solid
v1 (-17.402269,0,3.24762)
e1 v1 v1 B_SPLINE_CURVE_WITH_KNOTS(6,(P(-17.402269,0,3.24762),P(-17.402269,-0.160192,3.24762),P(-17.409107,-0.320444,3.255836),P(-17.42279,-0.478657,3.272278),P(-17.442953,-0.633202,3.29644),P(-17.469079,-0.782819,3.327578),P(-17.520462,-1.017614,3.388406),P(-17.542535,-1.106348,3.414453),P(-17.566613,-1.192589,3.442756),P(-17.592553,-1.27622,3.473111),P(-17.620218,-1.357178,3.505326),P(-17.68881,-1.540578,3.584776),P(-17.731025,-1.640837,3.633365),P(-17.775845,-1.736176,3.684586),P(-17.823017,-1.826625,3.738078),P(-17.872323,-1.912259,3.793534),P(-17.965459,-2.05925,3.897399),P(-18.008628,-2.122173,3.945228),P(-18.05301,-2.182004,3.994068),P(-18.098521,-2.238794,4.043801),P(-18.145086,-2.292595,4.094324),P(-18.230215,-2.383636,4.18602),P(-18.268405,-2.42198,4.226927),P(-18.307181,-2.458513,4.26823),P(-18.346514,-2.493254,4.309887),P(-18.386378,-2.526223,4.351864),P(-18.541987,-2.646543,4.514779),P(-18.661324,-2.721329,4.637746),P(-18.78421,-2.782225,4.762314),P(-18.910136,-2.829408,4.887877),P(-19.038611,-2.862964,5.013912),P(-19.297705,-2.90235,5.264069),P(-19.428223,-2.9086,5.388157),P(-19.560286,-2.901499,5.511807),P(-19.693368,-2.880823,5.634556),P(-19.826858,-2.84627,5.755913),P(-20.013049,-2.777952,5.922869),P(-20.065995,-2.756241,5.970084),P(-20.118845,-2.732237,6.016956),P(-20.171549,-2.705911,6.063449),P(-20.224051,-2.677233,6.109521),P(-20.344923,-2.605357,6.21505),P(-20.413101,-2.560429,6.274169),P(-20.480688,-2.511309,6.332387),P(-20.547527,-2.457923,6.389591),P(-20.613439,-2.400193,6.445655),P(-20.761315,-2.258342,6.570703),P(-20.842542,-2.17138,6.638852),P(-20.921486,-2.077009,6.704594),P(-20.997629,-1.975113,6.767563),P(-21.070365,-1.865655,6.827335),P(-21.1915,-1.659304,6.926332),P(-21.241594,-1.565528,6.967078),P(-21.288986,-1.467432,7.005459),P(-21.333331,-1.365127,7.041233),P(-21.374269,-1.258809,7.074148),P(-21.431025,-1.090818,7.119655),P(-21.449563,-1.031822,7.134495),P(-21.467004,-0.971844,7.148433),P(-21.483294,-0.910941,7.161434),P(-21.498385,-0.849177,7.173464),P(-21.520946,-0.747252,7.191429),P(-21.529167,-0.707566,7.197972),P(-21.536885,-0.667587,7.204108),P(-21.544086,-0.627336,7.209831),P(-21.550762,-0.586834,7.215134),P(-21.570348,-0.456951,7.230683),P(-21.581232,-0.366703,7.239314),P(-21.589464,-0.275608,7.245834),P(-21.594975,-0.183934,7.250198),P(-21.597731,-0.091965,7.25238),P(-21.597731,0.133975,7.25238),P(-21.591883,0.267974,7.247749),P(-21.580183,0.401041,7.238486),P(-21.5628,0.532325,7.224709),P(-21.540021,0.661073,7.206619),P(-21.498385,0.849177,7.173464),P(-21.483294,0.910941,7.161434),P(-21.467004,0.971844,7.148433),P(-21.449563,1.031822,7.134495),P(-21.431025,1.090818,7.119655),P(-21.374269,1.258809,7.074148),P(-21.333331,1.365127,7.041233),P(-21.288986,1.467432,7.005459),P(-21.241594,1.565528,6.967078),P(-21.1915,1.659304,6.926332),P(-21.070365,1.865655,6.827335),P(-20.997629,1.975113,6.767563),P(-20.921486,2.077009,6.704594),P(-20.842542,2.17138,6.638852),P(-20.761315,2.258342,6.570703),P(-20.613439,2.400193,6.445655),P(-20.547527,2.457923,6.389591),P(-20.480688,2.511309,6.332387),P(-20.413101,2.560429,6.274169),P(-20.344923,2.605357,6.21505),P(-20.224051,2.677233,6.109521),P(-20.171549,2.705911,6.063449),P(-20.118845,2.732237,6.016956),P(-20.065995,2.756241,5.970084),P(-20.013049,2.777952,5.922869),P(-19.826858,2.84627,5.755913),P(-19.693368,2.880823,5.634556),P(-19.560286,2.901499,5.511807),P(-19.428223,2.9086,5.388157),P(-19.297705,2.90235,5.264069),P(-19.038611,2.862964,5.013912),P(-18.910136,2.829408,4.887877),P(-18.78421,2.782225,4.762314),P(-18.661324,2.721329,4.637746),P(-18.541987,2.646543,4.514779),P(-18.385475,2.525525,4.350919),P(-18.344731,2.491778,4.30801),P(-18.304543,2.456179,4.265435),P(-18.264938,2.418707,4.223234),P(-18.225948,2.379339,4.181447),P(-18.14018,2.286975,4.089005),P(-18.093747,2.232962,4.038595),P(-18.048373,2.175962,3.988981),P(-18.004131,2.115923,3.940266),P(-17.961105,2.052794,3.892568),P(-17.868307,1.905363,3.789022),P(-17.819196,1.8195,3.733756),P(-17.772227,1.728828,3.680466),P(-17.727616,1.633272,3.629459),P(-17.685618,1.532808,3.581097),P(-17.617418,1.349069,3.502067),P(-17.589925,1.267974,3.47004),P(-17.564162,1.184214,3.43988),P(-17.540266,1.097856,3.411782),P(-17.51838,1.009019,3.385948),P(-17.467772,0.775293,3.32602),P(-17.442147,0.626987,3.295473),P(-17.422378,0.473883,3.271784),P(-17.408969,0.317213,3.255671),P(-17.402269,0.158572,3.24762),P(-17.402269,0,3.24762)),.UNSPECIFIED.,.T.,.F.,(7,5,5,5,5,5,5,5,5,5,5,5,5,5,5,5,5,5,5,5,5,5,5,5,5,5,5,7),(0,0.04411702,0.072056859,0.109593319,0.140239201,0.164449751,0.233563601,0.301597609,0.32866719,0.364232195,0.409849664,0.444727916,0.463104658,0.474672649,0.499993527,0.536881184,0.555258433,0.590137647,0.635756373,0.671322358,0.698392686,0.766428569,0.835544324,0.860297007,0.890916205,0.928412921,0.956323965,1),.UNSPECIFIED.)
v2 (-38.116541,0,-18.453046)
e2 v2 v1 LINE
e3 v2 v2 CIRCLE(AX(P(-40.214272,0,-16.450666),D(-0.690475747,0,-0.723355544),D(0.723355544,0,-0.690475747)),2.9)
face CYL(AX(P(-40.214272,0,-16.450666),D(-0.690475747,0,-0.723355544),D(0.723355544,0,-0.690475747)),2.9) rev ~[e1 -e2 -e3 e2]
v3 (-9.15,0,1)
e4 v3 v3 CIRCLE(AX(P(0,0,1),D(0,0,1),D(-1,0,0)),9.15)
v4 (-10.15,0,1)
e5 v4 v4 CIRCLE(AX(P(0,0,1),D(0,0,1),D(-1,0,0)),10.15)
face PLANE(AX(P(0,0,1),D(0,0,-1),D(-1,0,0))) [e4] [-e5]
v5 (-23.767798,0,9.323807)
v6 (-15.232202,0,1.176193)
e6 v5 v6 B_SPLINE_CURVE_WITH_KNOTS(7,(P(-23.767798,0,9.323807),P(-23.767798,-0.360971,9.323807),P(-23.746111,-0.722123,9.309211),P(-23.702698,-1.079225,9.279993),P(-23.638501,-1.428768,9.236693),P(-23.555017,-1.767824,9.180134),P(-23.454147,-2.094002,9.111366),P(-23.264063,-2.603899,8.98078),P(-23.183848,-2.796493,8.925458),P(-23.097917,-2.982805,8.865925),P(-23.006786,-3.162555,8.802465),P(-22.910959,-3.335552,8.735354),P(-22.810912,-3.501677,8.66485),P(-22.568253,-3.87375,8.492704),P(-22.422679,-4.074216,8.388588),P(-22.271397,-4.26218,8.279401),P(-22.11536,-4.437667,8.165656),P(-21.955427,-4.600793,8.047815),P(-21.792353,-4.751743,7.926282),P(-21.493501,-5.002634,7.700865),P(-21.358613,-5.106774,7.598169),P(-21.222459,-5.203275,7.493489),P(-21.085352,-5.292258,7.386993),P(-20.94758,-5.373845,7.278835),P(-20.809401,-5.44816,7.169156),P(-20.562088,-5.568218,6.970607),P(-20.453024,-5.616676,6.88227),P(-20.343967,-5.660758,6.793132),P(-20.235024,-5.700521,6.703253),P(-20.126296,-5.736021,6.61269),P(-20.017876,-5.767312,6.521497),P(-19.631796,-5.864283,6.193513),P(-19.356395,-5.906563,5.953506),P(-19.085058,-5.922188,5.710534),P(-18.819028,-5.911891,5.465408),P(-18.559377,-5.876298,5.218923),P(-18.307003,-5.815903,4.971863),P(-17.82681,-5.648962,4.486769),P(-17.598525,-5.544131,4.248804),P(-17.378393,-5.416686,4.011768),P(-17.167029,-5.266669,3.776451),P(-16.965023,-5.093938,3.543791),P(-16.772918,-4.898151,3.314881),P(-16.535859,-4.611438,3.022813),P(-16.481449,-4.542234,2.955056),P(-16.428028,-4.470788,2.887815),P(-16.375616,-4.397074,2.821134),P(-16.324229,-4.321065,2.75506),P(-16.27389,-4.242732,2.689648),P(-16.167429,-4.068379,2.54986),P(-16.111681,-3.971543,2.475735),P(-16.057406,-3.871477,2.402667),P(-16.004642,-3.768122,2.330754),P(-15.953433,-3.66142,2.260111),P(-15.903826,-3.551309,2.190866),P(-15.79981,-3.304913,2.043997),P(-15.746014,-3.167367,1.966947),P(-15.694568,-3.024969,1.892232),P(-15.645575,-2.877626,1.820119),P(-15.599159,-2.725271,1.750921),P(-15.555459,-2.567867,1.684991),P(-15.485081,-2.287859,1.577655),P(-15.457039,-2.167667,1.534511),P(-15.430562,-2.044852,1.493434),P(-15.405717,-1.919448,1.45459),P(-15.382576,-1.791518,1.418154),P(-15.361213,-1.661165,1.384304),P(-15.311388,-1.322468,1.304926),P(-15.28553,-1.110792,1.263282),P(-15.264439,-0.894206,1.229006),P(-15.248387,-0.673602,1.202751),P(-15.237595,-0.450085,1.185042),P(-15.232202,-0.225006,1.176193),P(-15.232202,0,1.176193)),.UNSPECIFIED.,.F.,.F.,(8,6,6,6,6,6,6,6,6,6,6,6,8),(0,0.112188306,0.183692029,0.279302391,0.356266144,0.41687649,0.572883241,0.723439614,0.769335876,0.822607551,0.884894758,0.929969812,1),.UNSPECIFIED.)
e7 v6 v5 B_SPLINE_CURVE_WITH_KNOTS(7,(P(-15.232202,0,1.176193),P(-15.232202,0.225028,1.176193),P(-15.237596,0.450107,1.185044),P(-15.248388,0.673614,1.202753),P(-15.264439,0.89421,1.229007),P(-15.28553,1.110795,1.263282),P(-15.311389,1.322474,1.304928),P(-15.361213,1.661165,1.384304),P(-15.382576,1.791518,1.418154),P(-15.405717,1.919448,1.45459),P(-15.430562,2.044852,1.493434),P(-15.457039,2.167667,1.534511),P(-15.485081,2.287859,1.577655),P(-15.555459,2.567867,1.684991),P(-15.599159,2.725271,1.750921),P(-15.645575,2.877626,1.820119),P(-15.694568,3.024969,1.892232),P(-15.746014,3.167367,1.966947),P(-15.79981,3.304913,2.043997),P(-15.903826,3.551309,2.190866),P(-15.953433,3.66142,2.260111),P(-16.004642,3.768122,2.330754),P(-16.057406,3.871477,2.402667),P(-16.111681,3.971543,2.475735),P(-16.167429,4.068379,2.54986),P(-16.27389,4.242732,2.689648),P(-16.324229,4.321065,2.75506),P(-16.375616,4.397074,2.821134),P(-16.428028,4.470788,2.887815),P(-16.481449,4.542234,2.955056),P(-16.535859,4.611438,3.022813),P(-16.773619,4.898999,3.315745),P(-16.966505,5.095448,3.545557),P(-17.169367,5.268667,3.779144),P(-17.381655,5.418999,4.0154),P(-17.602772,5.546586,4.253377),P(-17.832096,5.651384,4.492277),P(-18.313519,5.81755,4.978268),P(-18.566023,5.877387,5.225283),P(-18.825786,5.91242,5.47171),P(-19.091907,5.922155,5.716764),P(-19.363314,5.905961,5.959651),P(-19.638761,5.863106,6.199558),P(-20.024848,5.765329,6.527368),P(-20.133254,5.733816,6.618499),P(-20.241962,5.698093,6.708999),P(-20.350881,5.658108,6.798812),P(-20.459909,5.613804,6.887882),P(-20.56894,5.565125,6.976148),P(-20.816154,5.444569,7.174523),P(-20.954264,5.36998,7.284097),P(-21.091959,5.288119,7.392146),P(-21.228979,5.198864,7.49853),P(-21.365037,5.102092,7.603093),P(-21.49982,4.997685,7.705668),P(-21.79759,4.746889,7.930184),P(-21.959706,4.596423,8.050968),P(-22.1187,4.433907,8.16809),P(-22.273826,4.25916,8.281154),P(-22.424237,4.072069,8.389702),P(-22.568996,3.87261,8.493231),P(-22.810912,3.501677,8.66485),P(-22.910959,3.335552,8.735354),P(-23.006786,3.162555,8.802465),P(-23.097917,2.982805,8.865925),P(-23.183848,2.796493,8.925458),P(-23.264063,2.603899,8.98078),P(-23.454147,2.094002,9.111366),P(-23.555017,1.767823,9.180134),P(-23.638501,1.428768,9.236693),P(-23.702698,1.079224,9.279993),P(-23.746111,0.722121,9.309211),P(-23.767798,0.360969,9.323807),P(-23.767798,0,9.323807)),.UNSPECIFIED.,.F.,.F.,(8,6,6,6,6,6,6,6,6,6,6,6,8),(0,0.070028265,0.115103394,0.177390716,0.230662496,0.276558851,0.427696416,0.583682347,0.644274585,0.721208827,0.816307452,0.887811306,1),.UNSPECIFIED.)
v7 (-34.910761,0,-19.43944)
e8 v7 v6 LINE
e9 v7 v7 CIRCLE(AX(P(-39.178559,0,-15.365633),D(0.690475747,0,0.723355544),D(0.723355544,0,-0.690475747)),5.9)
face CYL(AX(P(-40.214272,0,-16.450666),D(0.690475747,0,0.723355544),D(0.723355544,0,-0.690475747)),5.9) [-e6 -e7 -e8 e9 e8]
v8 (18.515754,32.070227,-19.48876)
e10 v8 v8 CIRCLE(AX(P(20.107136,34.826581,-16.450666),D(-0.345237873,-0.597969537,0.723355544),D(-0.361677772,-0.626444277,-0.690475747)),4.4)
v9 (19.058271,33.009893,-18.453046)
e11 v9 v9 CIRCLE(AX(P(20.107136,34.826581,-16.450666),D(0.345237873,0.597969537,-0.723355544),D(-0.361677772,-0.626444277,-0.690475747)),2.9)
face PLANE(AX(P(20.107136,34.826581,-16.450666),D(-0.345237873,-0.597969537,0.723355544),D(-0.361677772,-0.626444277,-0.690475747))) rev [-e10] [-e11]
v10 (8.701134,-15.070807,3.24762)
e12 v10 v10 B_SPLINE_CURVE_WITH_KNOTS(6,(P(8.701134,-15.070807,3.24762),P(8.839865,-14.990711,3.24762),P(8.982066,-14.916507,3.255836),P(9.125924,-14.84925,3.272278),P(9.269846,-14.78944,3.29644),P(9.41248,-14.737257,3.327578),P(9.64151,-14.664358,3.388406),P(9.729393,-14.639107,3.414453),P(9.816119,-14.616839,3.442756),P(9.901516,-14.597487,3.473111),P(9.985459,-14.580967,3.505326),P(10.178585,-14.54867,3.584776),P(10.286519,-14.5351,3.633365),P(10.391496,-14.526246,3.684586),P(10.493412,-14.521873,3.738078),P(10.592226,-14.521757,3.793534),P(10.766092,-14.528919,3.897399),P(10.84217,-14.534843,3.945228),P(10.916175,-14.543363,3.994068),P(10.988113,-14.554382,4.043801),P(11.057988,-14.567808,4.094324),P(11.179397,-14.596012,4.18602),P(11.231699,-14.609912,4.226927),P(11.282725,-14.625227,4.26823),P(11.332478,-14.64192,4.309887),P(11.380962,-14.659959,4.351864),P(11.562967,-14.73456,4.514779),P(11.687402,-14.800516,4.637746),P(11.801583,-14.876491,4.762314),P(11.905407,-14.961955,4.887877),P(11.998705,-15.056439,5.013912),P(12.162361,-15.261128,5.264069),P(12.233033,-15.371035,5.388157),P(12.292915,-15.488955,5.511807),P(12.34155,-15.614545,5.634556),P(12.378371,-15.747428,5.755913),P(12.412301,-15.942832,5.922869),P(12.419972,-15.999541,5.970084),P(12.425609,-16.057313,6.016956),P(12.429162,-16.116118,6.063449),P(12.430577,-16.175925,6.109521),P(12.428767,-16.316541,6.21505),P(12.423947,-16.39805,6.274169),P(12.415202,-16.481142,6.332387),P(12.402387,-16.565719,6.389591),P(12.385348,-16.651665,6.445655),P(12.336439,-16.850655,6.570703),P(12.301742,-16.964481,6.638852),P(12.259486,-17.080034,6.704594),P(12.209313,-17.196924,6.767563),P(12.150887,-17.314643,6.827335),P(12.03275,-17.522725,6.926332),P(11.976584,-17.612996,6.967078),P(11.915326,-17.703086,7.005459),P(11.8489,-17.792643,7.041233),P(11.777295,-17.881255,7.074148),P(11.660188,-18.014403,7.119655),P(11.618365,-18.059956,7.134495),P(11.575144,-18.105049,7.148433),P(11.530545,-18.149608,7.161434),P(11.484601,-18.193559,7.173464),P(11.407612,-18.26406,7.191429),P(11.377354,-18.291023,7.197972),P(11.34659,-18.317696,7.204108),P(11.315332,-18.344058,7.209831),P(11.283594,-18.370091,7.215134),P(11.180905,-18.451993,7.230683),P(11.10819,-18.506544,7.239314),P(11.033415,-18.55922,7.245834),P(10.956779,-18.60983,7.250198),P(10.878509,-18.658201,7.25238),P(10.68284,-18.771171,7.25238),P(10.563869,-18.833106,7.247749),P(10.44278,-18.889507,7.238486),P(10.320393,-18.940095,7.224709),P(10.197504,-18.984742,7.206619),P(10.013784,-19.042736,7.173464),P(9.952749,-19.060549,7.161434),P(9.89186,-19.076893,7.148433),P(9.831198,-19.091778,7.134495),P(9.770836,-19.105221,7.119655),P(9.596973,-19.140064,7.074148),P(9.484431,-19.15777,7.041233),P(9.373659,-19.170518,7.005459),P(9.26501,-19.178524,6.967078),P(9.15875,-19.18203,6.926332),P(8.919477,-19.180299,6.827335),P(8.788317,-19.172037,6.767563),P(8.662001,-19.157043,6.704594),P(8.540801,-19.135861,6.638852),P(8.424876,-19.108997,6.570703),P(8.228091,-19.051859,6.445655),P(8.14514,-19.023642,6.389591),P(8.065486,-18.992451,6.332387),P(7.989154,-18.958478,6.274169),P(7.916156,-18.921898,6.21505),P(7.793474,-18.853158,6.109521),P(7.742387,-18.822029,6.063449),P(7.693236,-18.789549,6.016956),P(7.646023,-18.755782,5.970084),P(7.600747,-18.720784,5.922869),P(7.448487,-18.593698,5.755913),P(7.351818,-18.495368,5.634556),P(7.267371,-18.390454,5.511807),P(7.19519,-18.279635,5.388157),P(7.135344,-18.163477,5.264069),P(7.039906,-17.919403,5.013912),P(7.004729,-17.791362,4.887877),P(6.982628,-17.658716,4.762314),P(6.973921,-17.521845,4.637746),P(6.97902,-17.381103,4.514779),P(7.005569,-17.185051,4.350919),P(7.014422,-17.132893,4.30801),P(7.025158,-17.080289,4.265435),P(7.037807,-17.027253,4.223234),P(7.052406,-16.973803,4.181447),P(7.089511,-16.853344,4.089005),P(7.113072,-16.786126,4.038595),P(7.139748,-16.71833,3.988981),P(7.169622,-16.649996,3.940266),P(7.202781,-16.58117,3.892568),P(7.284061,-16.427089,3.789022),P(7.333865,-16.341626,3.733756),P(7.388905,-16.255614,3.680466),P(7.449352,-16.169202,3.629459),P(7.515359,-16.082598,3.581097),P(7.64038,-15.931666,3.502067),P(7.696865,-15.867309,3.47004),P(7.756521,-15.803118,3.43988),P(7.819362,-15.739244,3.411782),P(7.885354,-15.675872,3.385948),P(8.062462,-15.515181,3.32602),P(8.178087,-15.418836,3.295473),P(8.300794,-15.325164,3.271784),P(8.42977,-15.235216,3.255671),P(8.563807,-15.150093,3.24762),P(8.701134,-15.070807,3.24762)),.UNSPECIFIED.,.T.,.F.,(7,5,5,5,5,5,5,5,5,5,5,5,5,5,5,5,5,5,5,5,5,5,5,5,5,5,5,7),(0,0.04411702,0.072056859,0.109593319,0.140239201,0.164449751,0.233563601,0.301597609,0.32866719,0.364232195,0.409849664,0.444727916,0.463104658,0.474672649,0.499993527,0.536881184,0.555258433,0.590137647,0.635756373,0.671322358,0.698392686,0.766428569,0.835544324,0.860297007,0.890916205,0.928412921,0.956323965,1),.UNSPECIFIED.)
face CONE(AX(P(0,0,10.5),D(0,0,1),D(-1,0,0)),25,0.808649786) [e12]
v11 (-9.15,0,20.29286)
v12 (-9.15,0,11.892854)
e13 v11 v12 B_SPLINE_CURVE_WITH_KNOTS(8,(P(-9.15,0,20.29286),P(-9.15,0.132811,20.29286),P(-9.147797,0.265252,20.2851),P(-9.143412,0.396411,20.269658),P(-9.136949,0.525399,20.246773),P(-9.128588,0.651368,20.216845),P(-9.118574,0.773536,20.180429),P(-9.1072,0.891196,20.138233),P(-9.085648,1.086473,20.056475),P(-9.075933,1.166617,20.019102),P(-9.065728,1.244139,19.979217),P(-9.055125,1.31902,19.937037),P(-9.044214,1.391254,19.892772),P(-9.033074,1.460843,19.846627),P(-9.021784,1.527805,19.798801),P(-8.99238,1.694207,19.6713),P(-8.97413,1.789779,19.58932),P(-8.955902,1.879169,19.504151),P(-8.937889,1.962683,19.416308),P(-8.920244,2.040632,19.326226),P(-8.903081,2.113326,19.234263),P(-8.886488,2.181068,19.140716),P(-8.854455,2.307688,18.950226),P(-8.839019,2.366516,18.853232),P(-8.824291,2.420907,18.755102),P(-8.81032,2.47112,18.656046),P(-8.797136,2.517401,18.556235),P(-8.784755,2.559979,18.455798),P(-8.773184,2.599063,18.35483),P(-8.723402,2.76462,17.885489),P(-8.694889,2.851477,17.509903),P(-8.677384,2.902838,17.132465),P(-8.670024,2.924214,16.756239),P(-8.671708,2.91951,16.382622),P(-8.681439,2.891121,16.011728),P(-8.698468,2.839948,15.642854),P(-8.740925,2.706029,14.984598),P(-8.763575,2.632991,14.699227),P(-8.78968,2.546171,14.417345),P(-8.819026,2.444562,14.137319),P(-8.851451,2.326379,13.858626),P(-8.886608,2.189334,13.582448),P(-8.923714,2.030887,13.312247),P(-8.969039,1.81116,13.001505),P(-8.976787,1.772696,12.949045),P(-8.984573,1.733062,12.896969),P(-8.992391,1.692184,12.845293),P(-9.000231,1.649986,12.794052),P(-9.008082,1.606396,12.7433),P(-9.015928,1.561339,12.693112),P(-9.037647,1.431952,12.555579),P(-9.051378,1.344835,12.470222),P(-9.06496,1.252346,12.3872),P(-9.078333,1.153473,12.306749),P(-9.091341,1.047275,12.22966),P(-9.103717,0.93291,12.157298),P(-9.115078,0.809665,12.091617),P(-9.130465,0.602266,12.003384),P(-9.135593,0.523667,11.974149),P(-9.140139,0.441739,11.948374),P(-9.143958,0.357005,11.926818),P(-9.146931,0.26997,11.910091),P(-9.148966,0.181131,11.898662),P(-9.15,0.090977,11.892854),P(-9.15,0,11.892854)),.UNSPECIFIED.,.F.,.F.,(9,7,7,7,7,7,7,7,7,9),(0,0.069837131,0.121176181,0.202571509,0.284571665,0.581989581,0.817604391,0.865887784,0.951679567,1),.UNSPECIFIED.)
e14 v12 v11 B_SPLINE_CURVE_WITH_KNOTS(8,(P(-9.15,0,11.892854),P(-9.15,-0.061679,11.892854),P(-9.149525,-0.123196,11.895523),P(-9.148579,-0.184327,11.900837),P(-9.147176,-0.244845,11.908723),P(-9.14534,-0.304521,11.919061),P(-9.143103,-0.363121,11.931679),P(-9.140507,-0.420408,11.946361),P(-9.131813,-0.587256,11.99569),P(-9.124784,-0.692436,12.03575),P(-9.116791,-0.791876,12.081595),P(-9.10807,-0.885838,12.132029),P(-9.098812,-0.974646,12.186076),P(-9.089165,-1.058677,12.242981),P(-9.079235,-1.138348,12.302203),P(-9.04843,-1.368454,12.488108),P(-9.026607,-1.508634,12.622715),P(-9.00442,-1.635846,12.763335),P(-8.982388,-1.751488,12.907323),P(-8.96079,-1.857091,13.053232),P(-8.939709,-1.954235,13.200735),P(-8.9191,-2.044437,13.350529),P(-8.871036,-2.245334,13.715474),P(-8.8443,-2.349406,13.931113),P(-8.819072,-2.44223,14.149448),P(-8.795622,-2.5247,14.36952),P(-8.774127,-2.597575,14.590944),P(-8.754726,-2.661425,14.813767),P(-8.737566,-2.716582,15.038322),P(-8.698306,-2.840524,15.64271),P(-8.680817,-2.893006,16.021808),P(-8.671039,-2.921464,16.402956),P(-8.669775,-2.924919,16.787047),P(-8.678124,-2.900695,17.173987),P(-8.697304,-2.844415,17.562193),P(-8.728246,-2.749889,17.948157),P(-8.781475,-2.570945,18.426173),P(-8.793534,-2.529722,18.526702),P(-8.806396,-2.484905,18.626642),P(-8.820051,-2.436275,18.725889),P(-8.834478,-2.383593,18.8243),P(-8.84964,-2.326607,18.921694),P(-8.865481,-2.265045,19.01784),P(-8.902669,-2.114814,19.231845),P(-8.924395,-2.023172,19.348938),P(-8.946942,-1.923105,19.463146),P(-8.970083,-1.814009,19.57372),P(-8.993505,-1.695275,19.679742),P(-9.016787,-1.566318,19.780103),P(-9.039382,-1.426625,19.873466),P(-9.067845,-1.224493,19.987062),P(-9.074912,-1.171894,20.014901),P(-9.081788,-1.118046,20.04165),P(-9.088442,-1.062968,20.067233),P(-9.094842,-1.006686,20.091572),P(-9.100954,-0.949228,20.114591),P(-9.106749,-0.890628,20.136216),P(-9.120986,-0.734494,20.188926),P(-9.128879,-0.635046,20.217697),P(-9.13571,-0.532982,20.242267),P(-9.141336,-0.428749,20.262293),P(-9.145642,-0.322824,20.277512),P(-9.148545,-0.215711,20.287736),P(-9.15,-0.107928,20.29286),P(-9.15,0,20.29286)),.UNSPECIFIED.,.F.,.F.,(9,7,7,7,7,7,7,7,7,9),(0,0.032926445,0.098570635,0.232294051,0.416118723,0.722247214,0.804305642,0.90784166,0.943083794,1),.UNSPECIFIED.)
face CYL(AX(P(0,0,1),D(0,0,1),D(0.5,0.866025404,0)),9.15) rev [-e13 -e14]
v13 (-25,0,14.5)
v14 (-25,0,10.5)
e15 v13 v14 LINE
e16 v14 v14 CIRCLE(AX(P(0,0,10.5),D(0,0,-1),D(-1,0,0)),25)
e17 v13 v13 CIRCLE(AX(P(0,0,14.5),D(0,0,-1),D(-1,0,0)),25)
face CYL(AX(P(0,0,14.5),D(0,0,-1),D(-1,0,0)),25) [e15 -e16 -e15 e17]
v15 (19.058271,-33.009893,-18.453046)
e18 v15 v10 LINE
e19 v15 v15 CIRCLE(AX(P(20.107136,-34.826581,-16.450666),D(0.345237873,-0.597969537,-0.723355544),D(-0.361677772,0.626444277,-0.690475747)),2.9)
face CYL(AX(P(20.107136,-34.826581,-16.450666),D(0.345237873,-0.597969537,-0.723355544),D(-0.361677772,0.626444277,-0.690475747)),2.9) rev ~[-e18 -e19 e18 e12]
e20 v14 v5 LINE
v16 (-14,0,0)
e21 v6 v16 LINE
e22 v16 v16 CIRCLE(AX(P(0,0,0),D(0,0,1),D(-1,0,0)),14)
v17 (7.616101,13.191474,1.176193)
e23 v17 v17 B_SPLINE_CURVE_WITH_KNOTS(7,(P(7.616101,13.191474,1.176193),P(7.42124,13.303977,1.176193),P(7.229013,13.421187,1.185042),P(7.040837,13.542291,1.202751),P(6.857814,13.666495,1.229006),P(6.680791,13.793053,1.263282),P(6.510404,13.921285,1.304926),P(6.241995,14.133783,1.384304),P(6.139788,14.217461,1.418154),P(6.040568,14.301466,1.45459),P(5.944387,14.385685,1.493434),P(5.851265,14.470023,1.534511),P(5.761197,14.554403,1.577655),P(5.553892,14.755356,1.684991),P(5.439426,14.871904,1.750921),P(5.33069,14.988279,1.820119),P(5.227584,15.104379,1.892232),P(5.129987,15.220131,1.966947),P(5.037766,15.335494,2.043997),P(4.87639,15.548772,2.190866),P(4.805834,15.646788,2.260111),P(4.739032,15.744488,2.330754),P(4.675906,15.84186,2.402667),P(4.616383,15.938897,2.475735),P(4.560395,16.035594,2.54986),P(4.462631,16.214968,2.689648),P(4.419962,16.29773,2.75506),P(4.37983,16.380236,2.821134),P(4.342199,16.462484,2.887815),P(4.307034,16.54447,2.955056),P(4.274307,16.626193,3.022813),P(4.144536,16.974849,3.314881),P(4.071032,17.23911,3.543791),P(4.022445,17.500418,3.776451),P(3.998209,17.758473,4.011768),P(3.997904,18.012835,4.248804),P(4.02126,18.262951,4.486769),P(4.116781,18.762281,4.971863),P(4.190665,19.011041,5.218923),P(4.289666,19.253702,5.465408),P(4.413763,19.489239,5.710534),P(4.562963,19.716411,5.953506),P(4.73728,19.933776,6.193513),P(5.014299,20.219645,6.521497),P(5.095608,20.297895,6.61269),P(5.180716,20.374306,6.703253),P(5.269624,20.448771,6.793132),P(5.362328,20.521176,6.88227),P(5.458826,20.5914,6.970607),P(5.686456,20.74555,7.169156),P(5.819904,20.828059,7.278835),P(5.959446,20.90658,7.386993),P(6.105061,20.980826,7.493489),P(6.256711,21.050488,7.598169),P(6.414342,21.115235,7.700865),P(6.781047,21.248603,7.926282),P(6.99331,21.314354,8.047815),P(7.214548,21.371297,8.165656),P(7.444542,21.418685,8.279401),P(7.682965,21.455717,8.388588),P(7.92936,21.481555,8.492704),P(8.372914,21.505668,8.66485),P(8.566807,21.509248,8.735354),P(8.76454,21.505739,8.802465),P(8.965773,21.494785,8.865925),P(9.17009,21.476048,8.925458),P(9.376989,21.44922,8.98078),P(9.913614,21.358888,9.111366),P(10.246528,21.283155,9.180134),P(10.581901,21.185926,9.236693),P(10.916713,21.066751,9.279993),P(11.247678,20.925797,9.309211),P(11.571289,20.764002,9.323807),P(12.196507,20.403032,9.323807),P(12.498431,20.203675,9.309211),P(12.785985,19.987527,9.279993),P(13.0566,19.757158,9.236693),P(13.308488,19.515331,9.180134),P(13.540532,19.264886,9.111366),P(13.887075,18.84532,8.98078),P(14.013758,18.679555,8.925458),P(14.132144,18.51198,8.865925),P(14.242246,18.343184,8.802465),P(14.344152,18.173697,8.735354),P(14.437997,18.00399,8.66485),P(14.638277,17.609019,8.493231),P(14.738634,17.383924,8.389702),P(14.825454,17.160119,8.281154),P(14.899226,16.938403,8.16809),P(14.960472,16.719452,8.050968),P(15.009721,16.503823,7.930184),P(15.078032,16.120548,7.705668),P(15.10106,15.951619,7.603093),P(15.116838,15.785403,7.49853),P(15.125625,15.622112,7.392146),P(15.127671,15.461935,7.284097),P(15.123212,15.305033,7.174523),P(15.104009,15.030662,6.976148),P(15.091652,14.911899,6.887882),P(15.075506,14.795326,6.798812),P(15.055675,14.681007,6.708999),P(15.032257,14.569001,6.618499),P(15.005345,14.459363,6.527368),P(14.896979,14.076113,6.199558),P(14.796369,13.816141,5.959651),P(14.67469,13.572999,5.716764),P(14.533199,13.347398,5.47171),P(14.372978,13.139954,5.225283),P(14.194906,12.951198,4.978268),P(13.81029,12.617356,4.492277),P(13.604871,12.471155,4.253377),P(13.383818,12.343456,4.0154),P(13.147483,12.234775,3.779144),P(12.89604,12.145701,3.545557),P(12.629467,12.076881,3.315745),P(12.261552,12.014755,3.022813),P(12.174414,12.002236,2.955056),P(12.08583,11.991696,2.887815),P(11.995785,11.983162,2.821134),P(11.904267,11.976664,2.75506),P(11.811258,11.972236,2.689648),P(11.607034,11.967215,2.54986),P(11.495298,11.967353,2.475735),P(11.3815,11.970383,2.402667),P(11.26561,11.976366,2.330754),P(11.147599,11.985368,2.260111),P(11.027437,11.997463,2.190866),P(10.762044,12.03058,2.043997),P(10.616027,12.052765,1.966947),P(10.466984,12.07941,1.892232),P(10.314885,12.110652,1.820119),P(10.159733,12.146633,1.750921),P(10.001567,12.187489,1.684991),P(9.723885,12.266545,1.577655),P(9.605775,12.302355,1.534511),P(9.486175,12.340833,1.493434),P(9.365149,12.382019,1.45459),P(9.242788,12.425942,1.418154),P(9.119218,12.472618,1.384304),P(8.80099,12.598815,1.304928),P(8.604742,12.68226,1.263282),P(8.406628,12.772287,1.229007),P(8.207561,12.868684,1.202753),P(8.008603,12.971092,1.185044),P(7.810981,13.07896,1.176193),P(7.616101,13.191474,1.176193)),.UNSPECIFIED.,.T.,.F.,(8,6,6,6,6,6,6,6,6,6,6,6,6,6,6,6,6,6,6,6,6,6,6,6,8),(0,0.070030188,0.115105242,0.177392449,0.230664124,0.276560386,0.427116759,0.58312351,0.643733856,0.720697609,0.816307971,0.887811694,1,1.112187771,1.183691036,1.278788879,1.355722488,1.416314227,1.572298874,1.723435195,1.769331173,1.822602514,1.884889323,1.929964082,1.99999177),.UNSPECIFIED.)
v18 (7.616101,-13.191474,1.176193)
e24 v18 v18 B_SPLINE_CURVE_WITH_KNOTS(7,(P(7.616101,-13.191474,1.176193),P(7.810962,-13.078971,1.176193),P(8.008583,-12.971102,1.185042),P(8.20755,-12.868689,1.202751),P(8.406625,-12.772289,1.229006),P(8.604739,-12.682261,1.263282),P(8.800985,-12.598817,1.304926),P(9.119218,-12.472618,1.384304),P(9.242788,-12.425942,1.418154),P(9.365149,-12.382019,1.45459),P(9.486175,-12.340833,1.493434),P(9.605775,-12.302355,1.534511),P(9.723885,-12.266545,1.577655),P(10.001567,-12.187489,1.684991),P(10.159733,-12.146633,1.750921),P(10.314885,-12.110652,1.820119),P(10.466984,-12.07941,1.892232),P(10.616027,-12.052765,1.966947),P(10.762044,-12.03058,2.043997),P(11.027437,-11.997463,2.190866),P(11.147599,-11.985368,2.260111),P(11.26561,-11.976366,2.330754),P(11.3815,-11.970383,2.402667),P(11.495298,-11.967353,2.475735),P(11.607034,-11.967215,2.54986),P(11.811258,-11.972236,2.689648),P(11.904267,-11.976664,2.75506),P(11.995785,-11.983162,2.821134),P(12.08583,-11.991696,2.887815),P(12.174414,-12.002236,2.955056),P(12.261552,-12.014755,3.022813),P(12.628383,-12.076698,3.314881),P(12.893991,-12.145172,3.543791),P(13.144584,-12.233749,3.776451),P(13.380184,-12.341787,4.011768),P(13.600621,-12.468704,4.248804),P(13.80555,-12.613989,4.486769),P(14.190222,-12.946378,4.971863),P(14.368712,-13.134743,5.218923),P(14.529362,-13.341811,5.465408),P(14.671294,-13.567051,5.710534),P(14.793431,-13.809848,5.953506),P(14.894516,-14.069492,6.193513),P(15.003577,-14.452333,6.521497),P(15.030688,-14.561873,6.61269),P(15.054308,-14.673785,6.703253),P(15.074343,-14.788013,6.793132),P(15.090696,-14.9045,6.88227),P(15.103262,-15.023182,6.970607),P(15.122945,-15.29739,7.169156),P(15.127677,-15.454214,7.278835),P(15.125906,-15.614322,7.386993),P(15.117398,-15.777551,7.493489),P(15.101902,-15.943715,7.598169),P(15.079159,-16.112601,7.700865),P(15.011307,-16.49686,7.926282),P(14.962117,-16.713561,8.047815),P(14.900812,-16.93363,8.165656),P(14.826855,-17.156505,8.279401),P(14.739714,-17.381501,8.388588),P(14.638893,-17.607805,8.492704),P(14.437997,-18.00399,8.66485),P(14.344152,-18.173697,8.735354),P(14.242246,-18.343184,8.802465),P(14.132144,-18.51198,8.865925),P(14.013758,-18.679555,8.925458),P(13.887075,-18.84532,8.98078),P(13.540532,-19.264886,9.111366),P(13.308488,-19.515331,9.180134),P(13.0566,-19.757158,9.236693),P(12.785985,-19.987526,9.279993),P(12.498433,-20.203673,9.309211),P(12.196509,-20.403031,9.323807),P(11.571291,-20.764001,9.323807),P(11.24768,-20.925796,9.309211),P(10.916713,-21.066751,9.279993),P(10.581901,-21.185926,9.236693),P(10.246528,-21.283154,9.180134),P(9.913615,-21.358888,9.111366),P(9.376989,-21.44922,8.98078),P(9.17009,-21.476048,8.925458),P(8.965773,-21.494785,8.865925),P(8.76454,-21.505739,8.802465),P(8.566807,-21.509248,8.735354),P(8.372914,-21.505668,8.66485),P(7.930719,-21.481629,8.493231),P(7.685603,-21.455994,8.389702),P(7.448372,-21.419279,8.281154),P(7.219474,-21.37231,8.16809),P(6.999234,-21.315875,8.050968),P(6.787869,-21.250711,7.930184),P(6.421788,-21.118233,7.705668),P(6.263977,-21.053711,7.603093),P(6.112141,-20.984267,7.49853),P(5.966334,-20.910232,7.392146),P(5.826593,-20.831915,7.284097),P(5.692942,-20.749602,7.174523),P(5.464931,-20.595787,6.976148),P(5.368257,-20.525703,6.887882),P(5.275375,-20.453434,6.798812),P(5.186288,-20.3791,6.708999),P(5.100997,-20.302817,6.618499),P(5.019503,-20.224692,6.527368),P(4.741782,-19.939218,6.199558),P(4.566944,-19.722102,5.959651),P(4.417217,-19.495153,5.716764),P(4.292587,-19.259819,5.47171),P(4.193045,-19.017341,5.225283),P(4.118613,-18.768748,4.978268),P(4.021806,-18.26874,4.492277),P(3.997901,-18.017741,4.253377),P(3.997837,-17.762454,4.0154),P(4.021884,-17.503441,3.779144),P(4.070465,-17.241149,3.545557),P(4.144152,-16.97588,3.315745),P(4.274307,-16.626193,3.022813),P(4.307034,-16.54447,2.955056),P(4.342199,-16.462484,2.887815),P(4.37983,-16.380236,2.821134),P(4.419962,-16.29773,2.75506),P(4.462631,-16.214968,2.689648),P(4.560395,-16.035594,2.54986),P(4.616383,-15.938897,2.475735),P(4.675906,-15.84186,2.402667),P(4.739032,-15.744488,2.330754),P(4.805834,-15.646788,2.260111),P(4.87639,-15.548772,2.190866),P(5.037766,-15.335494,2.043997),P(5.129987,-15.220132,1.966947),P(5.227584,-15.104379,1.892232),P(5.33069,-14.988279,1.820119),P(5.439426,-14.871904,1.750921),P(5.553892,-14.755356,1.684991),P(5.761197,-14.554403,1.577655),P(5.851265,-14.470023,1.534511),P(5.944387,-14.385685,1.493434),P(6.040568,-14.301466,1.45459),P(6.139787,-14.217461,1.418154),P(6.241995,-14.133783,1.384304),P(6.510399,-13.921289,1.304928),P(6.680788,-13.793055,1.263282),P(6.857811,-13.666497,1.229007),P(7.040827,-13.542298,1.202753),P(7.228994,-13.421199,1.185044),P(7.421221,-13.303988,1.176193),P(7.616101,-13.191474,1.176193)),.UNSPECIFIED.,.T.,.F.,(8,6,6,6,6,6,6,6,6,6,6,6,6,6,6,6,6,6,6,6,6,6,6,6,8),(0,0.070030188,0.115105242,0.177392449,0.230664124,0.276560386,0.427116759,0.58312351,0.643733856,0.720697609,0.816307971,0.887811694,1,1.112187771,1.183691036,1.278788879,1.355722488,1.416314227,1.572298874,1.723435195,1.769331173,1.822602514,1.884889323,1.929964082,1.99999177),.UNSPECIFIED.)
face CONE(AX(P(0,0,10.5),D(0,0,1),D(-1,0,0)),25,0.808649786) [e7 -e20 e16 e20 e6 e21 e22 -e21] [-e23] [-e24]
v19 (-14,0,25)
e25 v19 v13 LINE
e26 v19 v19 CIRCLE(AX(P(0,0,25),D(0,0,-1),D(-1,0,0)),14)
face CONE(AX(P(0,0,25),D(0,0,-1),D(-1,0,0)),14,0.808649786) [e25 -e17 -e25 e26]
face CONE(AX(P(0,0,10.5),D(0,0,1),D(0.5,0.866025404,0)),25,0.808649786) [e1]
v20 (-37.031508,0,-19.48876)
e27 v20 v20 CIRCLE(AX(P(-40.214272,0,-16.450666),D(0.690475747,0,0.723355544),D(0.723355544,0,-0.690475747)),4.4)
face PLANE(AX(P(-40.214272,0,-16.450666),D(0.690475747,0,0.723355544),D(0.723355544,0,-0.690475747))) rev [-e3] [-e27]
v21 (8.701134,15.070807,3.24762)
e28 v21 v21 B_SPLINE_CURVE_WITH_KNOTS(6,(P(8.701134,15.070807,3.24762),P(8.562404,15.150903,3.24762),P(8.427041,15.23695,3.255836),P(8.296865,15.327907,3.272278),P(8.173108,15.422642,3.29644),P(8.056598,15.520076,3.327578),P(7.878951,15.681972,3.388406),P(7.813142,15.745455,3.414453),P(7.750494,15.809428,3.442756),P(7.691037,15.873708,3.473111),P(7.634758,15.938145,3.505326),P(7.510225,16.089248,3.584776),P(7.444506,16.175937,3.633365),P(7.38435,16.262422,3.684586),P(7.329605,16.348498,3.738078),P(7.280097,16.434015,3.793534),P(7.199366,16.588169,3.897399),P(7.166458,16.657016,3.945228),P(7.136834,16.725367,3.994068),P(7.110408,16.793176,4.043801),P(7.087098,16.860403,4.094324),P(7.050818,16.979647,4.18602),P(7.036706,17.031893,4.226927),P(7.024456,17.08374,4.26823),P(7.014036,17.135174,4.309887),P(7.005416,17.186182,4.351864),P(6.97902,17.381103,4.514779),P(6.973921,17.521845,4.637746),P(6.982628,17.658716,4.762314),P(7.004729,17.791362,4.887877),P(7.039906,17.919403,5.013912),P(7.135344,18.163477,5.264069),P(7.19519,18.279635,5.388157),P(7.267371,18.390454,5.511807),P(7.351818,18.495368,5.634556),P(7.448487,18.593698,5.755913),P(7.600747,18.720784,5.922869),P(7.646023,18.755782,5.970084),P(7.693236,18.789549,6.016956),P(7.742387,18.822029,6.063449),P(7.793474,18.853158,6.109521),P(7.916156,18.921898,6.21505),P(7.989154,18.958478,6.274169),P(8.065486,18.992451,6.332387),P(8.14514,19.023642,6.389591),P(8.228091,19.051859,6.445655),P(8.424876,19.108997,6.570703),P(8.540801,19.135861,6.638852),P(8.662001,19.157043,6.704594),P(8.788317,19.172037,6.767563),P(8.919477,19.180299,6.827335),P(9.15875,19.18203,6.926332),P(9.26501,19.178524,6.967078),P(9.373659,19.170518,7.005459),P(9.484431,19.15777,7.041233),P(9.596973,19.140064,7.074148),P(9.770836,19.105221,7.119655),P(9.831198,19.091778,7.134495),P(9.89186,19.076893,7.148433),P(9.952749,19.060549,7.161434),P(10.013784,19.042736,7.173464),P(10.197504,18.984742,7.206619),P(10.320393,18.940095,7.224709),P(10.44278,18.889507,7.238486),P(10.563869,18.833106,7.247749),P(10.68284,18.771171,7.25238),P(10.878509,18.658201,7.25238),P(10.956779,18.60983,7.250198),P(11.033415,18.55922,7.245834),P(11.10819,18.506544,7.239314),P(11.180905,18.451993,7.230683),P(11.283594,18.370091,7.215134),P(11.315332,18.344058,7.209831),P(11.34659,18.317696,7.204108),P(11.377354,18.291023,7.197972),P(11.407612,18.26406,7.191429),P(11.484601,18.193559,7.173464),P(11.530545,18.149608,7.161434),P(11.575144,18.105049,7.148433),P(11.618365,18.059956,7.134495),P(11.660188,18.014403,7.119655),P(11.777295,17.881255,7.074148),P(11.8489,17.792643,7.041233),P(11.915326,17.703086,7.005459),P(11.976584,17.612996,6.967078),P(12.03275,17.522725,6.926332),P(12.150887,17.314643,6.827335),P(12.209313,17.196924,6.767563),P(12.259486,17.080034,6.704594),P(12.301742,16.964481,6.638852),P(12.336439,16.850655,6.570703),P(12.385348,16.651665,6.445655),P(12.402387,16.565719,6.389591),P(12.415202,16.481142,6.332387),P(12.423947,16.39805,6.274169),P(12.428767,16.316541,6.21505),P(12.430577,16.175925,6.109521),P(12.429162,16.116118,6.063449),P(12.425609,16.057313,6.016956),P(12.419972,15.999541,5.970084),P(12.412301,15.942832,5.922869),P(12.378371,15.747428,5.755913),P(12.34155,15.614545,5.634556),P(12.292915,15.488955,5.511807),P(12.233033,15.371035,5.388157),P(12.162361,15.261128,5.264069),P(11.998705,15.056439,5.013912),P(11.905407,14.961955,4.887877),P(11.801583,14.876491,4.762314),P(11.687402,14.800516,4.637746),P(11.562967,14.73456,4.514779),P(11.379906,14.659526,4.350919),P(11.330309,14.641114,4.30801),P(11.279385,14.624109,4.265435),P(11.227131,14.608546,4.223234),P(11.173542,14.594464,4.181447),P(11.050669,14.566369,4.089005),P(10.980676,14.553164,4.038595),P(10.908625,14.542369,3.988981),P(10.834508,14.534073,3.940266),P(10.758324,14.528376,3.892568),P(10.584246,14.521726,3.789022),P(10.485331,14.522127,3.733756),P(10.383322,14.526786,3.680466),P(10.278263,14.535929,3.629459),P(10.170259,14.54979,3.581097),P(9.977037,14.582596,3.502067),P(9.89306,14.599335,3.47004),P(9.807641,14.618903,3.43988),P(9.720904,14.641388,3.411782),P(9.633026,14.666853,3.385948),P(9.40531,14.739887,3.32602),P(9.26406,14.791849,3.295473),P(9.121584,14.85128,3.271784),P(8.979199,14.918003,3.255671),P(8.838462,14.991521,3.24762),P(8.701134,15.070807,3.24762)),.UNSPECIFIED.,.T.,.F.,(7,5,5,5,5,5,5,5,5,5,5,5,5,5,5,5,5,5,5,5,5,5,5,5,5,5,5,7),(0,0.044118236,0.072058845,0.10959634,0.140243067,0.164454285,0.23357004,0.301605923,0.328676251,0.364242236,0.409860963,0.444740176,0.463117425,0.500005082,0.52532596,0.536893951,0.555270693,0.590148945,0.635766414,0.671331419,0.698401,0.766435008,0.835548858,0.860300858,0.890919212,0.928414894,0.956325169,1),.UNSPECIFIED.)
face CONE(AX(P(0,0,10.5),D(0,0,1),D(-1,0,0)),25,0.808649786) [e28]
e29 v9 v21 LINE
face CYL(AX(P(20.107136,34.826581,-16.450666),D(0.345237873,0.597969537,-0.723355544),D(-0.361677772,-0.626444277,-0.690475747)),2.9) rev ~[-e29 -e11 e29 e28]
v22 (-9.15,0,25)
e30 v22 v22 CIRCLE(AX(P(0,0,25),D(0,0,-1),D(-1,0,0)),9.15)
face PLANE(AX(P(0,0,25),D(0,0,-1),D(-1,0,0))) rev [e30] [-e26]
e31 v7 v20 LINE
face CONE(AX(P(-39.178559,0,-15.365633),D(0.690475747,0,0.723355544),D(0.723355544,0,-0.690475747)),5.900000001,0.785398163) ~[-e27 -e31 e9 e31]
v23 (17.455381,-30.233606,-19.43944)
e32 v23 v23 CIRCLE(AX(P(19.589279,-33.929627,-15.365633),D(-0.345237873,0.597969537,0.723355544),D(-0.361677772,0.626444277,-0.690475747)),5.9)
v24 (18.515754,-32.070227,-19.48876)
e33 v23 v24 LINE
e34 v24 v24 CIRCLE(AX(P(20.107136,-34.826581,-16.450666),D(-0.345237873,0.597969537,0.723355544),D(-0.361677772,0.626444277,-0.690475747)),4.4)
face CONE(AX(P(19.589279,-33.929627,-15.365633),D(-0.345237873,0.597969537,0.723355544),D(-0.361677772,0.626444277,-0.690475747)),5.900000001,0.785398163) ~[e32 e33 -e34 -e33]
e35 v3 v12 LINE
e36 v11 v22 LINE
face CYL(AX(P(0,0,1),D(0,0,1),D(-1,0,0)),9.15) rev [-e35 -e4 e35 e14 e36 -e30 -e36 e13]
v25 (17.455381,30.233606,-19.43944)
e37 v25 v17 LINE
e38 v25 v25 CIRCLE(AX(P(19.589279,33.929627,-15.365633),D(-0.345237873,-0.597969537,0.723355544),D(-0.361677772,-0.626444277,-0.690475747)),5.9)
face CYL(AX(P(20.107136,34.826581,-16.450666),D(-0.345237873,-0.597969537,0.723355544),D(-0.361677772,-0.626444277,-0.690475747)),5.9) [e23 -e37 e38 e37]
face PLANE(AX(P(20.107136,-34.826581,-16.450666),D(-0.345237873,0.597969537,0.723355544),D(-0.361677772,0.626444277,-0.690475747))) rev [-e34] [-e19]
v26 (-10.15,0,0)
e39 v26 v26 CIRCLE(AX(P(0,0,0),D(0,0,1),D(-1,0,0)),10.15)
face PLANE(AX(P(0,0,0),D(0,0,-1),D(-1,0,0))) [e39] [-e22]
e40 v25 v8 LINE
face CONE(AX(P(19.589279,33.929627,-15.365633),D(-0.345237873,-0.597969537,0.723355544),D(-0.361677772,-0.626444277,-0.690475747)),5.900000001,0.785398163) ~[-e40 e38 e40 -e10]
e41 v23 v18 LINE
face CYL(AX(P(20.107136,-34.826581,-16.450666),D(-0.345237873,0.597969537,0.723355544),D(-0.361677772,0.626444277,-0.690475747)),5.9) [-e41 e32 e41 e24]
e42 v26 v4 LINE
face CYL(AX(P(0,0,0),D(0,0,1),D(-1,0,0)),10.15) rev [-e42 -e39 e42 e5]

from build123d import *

# Parameters (mm, degrees)
F4_R     = 2.9
F5_DEPTH = 75.0134427933
F6_SIZE  = 1.5
F7_COUNT = 3


with BuildPart() as f1:
    # F0 (on Front) → F1 (revolve)
    with BuildSketch(Plane.XZ):
        Polygon((-9.15, 1), (-9.15, 25), (-14, 25), (-25, 14.5), (-25, 10.5), (-14, 0), (-10.15, 0), (-10.15, 1), align=None)
    revolve(axis=Axis((0, 0, 12.5), (0, 0, -1)))

    # F2 (on Front) → F3 (revolve)
    with BuildSketch(Plane.XZ):
        Polygon((-35.94647469, -20.5244732297), (-15.2322022896, 1.1761930946), (-10.7806652787, 5.8397080583), (-15.0484629892, 9.9135149637), (-19.5, 5.25), (-40.2142724005, -16.4506663243), align=None)
    revolve(axis=Axis((-29.8571362002, 0, -5.6003331622), (0.6904757467, 0, 0.7233555441)))

    # F4 (on face) → F5 (cut, through all)
    with BuildSketch(Plane(origin=(-27.3888669951, 0, -28.6930987567), x_dir=(0.7233555441, 0, -0.6904757467), z_dir=(-0.6904757467, 0, -0.7233555441))):
        with Locations((-17.7304307809, 0)):
            Circle(F4_R)
    extrude(amount=-F5_DEPTH, mode=Mode.SUBTRACT)

    # F6
    f6_edges = [f1.edges().sort_by_distance(p)[0] for p in [
        (-44.48207, 0, -12.376859),
    ]]
    chamfer(f6_edges, length=F6_SIZE)

    # F7: F1 ×3 about axis
    f7_axis = Axis((0, 0, 14.5), (0, 0, -1))


with BuildPart() as f1_1:
    add(f1.part)
    for i in range(1, F7_COUNT):
        add(f1.part.rotate(f7_axis, i * 360 / F7_COUNT))


solid = f1_1.part
